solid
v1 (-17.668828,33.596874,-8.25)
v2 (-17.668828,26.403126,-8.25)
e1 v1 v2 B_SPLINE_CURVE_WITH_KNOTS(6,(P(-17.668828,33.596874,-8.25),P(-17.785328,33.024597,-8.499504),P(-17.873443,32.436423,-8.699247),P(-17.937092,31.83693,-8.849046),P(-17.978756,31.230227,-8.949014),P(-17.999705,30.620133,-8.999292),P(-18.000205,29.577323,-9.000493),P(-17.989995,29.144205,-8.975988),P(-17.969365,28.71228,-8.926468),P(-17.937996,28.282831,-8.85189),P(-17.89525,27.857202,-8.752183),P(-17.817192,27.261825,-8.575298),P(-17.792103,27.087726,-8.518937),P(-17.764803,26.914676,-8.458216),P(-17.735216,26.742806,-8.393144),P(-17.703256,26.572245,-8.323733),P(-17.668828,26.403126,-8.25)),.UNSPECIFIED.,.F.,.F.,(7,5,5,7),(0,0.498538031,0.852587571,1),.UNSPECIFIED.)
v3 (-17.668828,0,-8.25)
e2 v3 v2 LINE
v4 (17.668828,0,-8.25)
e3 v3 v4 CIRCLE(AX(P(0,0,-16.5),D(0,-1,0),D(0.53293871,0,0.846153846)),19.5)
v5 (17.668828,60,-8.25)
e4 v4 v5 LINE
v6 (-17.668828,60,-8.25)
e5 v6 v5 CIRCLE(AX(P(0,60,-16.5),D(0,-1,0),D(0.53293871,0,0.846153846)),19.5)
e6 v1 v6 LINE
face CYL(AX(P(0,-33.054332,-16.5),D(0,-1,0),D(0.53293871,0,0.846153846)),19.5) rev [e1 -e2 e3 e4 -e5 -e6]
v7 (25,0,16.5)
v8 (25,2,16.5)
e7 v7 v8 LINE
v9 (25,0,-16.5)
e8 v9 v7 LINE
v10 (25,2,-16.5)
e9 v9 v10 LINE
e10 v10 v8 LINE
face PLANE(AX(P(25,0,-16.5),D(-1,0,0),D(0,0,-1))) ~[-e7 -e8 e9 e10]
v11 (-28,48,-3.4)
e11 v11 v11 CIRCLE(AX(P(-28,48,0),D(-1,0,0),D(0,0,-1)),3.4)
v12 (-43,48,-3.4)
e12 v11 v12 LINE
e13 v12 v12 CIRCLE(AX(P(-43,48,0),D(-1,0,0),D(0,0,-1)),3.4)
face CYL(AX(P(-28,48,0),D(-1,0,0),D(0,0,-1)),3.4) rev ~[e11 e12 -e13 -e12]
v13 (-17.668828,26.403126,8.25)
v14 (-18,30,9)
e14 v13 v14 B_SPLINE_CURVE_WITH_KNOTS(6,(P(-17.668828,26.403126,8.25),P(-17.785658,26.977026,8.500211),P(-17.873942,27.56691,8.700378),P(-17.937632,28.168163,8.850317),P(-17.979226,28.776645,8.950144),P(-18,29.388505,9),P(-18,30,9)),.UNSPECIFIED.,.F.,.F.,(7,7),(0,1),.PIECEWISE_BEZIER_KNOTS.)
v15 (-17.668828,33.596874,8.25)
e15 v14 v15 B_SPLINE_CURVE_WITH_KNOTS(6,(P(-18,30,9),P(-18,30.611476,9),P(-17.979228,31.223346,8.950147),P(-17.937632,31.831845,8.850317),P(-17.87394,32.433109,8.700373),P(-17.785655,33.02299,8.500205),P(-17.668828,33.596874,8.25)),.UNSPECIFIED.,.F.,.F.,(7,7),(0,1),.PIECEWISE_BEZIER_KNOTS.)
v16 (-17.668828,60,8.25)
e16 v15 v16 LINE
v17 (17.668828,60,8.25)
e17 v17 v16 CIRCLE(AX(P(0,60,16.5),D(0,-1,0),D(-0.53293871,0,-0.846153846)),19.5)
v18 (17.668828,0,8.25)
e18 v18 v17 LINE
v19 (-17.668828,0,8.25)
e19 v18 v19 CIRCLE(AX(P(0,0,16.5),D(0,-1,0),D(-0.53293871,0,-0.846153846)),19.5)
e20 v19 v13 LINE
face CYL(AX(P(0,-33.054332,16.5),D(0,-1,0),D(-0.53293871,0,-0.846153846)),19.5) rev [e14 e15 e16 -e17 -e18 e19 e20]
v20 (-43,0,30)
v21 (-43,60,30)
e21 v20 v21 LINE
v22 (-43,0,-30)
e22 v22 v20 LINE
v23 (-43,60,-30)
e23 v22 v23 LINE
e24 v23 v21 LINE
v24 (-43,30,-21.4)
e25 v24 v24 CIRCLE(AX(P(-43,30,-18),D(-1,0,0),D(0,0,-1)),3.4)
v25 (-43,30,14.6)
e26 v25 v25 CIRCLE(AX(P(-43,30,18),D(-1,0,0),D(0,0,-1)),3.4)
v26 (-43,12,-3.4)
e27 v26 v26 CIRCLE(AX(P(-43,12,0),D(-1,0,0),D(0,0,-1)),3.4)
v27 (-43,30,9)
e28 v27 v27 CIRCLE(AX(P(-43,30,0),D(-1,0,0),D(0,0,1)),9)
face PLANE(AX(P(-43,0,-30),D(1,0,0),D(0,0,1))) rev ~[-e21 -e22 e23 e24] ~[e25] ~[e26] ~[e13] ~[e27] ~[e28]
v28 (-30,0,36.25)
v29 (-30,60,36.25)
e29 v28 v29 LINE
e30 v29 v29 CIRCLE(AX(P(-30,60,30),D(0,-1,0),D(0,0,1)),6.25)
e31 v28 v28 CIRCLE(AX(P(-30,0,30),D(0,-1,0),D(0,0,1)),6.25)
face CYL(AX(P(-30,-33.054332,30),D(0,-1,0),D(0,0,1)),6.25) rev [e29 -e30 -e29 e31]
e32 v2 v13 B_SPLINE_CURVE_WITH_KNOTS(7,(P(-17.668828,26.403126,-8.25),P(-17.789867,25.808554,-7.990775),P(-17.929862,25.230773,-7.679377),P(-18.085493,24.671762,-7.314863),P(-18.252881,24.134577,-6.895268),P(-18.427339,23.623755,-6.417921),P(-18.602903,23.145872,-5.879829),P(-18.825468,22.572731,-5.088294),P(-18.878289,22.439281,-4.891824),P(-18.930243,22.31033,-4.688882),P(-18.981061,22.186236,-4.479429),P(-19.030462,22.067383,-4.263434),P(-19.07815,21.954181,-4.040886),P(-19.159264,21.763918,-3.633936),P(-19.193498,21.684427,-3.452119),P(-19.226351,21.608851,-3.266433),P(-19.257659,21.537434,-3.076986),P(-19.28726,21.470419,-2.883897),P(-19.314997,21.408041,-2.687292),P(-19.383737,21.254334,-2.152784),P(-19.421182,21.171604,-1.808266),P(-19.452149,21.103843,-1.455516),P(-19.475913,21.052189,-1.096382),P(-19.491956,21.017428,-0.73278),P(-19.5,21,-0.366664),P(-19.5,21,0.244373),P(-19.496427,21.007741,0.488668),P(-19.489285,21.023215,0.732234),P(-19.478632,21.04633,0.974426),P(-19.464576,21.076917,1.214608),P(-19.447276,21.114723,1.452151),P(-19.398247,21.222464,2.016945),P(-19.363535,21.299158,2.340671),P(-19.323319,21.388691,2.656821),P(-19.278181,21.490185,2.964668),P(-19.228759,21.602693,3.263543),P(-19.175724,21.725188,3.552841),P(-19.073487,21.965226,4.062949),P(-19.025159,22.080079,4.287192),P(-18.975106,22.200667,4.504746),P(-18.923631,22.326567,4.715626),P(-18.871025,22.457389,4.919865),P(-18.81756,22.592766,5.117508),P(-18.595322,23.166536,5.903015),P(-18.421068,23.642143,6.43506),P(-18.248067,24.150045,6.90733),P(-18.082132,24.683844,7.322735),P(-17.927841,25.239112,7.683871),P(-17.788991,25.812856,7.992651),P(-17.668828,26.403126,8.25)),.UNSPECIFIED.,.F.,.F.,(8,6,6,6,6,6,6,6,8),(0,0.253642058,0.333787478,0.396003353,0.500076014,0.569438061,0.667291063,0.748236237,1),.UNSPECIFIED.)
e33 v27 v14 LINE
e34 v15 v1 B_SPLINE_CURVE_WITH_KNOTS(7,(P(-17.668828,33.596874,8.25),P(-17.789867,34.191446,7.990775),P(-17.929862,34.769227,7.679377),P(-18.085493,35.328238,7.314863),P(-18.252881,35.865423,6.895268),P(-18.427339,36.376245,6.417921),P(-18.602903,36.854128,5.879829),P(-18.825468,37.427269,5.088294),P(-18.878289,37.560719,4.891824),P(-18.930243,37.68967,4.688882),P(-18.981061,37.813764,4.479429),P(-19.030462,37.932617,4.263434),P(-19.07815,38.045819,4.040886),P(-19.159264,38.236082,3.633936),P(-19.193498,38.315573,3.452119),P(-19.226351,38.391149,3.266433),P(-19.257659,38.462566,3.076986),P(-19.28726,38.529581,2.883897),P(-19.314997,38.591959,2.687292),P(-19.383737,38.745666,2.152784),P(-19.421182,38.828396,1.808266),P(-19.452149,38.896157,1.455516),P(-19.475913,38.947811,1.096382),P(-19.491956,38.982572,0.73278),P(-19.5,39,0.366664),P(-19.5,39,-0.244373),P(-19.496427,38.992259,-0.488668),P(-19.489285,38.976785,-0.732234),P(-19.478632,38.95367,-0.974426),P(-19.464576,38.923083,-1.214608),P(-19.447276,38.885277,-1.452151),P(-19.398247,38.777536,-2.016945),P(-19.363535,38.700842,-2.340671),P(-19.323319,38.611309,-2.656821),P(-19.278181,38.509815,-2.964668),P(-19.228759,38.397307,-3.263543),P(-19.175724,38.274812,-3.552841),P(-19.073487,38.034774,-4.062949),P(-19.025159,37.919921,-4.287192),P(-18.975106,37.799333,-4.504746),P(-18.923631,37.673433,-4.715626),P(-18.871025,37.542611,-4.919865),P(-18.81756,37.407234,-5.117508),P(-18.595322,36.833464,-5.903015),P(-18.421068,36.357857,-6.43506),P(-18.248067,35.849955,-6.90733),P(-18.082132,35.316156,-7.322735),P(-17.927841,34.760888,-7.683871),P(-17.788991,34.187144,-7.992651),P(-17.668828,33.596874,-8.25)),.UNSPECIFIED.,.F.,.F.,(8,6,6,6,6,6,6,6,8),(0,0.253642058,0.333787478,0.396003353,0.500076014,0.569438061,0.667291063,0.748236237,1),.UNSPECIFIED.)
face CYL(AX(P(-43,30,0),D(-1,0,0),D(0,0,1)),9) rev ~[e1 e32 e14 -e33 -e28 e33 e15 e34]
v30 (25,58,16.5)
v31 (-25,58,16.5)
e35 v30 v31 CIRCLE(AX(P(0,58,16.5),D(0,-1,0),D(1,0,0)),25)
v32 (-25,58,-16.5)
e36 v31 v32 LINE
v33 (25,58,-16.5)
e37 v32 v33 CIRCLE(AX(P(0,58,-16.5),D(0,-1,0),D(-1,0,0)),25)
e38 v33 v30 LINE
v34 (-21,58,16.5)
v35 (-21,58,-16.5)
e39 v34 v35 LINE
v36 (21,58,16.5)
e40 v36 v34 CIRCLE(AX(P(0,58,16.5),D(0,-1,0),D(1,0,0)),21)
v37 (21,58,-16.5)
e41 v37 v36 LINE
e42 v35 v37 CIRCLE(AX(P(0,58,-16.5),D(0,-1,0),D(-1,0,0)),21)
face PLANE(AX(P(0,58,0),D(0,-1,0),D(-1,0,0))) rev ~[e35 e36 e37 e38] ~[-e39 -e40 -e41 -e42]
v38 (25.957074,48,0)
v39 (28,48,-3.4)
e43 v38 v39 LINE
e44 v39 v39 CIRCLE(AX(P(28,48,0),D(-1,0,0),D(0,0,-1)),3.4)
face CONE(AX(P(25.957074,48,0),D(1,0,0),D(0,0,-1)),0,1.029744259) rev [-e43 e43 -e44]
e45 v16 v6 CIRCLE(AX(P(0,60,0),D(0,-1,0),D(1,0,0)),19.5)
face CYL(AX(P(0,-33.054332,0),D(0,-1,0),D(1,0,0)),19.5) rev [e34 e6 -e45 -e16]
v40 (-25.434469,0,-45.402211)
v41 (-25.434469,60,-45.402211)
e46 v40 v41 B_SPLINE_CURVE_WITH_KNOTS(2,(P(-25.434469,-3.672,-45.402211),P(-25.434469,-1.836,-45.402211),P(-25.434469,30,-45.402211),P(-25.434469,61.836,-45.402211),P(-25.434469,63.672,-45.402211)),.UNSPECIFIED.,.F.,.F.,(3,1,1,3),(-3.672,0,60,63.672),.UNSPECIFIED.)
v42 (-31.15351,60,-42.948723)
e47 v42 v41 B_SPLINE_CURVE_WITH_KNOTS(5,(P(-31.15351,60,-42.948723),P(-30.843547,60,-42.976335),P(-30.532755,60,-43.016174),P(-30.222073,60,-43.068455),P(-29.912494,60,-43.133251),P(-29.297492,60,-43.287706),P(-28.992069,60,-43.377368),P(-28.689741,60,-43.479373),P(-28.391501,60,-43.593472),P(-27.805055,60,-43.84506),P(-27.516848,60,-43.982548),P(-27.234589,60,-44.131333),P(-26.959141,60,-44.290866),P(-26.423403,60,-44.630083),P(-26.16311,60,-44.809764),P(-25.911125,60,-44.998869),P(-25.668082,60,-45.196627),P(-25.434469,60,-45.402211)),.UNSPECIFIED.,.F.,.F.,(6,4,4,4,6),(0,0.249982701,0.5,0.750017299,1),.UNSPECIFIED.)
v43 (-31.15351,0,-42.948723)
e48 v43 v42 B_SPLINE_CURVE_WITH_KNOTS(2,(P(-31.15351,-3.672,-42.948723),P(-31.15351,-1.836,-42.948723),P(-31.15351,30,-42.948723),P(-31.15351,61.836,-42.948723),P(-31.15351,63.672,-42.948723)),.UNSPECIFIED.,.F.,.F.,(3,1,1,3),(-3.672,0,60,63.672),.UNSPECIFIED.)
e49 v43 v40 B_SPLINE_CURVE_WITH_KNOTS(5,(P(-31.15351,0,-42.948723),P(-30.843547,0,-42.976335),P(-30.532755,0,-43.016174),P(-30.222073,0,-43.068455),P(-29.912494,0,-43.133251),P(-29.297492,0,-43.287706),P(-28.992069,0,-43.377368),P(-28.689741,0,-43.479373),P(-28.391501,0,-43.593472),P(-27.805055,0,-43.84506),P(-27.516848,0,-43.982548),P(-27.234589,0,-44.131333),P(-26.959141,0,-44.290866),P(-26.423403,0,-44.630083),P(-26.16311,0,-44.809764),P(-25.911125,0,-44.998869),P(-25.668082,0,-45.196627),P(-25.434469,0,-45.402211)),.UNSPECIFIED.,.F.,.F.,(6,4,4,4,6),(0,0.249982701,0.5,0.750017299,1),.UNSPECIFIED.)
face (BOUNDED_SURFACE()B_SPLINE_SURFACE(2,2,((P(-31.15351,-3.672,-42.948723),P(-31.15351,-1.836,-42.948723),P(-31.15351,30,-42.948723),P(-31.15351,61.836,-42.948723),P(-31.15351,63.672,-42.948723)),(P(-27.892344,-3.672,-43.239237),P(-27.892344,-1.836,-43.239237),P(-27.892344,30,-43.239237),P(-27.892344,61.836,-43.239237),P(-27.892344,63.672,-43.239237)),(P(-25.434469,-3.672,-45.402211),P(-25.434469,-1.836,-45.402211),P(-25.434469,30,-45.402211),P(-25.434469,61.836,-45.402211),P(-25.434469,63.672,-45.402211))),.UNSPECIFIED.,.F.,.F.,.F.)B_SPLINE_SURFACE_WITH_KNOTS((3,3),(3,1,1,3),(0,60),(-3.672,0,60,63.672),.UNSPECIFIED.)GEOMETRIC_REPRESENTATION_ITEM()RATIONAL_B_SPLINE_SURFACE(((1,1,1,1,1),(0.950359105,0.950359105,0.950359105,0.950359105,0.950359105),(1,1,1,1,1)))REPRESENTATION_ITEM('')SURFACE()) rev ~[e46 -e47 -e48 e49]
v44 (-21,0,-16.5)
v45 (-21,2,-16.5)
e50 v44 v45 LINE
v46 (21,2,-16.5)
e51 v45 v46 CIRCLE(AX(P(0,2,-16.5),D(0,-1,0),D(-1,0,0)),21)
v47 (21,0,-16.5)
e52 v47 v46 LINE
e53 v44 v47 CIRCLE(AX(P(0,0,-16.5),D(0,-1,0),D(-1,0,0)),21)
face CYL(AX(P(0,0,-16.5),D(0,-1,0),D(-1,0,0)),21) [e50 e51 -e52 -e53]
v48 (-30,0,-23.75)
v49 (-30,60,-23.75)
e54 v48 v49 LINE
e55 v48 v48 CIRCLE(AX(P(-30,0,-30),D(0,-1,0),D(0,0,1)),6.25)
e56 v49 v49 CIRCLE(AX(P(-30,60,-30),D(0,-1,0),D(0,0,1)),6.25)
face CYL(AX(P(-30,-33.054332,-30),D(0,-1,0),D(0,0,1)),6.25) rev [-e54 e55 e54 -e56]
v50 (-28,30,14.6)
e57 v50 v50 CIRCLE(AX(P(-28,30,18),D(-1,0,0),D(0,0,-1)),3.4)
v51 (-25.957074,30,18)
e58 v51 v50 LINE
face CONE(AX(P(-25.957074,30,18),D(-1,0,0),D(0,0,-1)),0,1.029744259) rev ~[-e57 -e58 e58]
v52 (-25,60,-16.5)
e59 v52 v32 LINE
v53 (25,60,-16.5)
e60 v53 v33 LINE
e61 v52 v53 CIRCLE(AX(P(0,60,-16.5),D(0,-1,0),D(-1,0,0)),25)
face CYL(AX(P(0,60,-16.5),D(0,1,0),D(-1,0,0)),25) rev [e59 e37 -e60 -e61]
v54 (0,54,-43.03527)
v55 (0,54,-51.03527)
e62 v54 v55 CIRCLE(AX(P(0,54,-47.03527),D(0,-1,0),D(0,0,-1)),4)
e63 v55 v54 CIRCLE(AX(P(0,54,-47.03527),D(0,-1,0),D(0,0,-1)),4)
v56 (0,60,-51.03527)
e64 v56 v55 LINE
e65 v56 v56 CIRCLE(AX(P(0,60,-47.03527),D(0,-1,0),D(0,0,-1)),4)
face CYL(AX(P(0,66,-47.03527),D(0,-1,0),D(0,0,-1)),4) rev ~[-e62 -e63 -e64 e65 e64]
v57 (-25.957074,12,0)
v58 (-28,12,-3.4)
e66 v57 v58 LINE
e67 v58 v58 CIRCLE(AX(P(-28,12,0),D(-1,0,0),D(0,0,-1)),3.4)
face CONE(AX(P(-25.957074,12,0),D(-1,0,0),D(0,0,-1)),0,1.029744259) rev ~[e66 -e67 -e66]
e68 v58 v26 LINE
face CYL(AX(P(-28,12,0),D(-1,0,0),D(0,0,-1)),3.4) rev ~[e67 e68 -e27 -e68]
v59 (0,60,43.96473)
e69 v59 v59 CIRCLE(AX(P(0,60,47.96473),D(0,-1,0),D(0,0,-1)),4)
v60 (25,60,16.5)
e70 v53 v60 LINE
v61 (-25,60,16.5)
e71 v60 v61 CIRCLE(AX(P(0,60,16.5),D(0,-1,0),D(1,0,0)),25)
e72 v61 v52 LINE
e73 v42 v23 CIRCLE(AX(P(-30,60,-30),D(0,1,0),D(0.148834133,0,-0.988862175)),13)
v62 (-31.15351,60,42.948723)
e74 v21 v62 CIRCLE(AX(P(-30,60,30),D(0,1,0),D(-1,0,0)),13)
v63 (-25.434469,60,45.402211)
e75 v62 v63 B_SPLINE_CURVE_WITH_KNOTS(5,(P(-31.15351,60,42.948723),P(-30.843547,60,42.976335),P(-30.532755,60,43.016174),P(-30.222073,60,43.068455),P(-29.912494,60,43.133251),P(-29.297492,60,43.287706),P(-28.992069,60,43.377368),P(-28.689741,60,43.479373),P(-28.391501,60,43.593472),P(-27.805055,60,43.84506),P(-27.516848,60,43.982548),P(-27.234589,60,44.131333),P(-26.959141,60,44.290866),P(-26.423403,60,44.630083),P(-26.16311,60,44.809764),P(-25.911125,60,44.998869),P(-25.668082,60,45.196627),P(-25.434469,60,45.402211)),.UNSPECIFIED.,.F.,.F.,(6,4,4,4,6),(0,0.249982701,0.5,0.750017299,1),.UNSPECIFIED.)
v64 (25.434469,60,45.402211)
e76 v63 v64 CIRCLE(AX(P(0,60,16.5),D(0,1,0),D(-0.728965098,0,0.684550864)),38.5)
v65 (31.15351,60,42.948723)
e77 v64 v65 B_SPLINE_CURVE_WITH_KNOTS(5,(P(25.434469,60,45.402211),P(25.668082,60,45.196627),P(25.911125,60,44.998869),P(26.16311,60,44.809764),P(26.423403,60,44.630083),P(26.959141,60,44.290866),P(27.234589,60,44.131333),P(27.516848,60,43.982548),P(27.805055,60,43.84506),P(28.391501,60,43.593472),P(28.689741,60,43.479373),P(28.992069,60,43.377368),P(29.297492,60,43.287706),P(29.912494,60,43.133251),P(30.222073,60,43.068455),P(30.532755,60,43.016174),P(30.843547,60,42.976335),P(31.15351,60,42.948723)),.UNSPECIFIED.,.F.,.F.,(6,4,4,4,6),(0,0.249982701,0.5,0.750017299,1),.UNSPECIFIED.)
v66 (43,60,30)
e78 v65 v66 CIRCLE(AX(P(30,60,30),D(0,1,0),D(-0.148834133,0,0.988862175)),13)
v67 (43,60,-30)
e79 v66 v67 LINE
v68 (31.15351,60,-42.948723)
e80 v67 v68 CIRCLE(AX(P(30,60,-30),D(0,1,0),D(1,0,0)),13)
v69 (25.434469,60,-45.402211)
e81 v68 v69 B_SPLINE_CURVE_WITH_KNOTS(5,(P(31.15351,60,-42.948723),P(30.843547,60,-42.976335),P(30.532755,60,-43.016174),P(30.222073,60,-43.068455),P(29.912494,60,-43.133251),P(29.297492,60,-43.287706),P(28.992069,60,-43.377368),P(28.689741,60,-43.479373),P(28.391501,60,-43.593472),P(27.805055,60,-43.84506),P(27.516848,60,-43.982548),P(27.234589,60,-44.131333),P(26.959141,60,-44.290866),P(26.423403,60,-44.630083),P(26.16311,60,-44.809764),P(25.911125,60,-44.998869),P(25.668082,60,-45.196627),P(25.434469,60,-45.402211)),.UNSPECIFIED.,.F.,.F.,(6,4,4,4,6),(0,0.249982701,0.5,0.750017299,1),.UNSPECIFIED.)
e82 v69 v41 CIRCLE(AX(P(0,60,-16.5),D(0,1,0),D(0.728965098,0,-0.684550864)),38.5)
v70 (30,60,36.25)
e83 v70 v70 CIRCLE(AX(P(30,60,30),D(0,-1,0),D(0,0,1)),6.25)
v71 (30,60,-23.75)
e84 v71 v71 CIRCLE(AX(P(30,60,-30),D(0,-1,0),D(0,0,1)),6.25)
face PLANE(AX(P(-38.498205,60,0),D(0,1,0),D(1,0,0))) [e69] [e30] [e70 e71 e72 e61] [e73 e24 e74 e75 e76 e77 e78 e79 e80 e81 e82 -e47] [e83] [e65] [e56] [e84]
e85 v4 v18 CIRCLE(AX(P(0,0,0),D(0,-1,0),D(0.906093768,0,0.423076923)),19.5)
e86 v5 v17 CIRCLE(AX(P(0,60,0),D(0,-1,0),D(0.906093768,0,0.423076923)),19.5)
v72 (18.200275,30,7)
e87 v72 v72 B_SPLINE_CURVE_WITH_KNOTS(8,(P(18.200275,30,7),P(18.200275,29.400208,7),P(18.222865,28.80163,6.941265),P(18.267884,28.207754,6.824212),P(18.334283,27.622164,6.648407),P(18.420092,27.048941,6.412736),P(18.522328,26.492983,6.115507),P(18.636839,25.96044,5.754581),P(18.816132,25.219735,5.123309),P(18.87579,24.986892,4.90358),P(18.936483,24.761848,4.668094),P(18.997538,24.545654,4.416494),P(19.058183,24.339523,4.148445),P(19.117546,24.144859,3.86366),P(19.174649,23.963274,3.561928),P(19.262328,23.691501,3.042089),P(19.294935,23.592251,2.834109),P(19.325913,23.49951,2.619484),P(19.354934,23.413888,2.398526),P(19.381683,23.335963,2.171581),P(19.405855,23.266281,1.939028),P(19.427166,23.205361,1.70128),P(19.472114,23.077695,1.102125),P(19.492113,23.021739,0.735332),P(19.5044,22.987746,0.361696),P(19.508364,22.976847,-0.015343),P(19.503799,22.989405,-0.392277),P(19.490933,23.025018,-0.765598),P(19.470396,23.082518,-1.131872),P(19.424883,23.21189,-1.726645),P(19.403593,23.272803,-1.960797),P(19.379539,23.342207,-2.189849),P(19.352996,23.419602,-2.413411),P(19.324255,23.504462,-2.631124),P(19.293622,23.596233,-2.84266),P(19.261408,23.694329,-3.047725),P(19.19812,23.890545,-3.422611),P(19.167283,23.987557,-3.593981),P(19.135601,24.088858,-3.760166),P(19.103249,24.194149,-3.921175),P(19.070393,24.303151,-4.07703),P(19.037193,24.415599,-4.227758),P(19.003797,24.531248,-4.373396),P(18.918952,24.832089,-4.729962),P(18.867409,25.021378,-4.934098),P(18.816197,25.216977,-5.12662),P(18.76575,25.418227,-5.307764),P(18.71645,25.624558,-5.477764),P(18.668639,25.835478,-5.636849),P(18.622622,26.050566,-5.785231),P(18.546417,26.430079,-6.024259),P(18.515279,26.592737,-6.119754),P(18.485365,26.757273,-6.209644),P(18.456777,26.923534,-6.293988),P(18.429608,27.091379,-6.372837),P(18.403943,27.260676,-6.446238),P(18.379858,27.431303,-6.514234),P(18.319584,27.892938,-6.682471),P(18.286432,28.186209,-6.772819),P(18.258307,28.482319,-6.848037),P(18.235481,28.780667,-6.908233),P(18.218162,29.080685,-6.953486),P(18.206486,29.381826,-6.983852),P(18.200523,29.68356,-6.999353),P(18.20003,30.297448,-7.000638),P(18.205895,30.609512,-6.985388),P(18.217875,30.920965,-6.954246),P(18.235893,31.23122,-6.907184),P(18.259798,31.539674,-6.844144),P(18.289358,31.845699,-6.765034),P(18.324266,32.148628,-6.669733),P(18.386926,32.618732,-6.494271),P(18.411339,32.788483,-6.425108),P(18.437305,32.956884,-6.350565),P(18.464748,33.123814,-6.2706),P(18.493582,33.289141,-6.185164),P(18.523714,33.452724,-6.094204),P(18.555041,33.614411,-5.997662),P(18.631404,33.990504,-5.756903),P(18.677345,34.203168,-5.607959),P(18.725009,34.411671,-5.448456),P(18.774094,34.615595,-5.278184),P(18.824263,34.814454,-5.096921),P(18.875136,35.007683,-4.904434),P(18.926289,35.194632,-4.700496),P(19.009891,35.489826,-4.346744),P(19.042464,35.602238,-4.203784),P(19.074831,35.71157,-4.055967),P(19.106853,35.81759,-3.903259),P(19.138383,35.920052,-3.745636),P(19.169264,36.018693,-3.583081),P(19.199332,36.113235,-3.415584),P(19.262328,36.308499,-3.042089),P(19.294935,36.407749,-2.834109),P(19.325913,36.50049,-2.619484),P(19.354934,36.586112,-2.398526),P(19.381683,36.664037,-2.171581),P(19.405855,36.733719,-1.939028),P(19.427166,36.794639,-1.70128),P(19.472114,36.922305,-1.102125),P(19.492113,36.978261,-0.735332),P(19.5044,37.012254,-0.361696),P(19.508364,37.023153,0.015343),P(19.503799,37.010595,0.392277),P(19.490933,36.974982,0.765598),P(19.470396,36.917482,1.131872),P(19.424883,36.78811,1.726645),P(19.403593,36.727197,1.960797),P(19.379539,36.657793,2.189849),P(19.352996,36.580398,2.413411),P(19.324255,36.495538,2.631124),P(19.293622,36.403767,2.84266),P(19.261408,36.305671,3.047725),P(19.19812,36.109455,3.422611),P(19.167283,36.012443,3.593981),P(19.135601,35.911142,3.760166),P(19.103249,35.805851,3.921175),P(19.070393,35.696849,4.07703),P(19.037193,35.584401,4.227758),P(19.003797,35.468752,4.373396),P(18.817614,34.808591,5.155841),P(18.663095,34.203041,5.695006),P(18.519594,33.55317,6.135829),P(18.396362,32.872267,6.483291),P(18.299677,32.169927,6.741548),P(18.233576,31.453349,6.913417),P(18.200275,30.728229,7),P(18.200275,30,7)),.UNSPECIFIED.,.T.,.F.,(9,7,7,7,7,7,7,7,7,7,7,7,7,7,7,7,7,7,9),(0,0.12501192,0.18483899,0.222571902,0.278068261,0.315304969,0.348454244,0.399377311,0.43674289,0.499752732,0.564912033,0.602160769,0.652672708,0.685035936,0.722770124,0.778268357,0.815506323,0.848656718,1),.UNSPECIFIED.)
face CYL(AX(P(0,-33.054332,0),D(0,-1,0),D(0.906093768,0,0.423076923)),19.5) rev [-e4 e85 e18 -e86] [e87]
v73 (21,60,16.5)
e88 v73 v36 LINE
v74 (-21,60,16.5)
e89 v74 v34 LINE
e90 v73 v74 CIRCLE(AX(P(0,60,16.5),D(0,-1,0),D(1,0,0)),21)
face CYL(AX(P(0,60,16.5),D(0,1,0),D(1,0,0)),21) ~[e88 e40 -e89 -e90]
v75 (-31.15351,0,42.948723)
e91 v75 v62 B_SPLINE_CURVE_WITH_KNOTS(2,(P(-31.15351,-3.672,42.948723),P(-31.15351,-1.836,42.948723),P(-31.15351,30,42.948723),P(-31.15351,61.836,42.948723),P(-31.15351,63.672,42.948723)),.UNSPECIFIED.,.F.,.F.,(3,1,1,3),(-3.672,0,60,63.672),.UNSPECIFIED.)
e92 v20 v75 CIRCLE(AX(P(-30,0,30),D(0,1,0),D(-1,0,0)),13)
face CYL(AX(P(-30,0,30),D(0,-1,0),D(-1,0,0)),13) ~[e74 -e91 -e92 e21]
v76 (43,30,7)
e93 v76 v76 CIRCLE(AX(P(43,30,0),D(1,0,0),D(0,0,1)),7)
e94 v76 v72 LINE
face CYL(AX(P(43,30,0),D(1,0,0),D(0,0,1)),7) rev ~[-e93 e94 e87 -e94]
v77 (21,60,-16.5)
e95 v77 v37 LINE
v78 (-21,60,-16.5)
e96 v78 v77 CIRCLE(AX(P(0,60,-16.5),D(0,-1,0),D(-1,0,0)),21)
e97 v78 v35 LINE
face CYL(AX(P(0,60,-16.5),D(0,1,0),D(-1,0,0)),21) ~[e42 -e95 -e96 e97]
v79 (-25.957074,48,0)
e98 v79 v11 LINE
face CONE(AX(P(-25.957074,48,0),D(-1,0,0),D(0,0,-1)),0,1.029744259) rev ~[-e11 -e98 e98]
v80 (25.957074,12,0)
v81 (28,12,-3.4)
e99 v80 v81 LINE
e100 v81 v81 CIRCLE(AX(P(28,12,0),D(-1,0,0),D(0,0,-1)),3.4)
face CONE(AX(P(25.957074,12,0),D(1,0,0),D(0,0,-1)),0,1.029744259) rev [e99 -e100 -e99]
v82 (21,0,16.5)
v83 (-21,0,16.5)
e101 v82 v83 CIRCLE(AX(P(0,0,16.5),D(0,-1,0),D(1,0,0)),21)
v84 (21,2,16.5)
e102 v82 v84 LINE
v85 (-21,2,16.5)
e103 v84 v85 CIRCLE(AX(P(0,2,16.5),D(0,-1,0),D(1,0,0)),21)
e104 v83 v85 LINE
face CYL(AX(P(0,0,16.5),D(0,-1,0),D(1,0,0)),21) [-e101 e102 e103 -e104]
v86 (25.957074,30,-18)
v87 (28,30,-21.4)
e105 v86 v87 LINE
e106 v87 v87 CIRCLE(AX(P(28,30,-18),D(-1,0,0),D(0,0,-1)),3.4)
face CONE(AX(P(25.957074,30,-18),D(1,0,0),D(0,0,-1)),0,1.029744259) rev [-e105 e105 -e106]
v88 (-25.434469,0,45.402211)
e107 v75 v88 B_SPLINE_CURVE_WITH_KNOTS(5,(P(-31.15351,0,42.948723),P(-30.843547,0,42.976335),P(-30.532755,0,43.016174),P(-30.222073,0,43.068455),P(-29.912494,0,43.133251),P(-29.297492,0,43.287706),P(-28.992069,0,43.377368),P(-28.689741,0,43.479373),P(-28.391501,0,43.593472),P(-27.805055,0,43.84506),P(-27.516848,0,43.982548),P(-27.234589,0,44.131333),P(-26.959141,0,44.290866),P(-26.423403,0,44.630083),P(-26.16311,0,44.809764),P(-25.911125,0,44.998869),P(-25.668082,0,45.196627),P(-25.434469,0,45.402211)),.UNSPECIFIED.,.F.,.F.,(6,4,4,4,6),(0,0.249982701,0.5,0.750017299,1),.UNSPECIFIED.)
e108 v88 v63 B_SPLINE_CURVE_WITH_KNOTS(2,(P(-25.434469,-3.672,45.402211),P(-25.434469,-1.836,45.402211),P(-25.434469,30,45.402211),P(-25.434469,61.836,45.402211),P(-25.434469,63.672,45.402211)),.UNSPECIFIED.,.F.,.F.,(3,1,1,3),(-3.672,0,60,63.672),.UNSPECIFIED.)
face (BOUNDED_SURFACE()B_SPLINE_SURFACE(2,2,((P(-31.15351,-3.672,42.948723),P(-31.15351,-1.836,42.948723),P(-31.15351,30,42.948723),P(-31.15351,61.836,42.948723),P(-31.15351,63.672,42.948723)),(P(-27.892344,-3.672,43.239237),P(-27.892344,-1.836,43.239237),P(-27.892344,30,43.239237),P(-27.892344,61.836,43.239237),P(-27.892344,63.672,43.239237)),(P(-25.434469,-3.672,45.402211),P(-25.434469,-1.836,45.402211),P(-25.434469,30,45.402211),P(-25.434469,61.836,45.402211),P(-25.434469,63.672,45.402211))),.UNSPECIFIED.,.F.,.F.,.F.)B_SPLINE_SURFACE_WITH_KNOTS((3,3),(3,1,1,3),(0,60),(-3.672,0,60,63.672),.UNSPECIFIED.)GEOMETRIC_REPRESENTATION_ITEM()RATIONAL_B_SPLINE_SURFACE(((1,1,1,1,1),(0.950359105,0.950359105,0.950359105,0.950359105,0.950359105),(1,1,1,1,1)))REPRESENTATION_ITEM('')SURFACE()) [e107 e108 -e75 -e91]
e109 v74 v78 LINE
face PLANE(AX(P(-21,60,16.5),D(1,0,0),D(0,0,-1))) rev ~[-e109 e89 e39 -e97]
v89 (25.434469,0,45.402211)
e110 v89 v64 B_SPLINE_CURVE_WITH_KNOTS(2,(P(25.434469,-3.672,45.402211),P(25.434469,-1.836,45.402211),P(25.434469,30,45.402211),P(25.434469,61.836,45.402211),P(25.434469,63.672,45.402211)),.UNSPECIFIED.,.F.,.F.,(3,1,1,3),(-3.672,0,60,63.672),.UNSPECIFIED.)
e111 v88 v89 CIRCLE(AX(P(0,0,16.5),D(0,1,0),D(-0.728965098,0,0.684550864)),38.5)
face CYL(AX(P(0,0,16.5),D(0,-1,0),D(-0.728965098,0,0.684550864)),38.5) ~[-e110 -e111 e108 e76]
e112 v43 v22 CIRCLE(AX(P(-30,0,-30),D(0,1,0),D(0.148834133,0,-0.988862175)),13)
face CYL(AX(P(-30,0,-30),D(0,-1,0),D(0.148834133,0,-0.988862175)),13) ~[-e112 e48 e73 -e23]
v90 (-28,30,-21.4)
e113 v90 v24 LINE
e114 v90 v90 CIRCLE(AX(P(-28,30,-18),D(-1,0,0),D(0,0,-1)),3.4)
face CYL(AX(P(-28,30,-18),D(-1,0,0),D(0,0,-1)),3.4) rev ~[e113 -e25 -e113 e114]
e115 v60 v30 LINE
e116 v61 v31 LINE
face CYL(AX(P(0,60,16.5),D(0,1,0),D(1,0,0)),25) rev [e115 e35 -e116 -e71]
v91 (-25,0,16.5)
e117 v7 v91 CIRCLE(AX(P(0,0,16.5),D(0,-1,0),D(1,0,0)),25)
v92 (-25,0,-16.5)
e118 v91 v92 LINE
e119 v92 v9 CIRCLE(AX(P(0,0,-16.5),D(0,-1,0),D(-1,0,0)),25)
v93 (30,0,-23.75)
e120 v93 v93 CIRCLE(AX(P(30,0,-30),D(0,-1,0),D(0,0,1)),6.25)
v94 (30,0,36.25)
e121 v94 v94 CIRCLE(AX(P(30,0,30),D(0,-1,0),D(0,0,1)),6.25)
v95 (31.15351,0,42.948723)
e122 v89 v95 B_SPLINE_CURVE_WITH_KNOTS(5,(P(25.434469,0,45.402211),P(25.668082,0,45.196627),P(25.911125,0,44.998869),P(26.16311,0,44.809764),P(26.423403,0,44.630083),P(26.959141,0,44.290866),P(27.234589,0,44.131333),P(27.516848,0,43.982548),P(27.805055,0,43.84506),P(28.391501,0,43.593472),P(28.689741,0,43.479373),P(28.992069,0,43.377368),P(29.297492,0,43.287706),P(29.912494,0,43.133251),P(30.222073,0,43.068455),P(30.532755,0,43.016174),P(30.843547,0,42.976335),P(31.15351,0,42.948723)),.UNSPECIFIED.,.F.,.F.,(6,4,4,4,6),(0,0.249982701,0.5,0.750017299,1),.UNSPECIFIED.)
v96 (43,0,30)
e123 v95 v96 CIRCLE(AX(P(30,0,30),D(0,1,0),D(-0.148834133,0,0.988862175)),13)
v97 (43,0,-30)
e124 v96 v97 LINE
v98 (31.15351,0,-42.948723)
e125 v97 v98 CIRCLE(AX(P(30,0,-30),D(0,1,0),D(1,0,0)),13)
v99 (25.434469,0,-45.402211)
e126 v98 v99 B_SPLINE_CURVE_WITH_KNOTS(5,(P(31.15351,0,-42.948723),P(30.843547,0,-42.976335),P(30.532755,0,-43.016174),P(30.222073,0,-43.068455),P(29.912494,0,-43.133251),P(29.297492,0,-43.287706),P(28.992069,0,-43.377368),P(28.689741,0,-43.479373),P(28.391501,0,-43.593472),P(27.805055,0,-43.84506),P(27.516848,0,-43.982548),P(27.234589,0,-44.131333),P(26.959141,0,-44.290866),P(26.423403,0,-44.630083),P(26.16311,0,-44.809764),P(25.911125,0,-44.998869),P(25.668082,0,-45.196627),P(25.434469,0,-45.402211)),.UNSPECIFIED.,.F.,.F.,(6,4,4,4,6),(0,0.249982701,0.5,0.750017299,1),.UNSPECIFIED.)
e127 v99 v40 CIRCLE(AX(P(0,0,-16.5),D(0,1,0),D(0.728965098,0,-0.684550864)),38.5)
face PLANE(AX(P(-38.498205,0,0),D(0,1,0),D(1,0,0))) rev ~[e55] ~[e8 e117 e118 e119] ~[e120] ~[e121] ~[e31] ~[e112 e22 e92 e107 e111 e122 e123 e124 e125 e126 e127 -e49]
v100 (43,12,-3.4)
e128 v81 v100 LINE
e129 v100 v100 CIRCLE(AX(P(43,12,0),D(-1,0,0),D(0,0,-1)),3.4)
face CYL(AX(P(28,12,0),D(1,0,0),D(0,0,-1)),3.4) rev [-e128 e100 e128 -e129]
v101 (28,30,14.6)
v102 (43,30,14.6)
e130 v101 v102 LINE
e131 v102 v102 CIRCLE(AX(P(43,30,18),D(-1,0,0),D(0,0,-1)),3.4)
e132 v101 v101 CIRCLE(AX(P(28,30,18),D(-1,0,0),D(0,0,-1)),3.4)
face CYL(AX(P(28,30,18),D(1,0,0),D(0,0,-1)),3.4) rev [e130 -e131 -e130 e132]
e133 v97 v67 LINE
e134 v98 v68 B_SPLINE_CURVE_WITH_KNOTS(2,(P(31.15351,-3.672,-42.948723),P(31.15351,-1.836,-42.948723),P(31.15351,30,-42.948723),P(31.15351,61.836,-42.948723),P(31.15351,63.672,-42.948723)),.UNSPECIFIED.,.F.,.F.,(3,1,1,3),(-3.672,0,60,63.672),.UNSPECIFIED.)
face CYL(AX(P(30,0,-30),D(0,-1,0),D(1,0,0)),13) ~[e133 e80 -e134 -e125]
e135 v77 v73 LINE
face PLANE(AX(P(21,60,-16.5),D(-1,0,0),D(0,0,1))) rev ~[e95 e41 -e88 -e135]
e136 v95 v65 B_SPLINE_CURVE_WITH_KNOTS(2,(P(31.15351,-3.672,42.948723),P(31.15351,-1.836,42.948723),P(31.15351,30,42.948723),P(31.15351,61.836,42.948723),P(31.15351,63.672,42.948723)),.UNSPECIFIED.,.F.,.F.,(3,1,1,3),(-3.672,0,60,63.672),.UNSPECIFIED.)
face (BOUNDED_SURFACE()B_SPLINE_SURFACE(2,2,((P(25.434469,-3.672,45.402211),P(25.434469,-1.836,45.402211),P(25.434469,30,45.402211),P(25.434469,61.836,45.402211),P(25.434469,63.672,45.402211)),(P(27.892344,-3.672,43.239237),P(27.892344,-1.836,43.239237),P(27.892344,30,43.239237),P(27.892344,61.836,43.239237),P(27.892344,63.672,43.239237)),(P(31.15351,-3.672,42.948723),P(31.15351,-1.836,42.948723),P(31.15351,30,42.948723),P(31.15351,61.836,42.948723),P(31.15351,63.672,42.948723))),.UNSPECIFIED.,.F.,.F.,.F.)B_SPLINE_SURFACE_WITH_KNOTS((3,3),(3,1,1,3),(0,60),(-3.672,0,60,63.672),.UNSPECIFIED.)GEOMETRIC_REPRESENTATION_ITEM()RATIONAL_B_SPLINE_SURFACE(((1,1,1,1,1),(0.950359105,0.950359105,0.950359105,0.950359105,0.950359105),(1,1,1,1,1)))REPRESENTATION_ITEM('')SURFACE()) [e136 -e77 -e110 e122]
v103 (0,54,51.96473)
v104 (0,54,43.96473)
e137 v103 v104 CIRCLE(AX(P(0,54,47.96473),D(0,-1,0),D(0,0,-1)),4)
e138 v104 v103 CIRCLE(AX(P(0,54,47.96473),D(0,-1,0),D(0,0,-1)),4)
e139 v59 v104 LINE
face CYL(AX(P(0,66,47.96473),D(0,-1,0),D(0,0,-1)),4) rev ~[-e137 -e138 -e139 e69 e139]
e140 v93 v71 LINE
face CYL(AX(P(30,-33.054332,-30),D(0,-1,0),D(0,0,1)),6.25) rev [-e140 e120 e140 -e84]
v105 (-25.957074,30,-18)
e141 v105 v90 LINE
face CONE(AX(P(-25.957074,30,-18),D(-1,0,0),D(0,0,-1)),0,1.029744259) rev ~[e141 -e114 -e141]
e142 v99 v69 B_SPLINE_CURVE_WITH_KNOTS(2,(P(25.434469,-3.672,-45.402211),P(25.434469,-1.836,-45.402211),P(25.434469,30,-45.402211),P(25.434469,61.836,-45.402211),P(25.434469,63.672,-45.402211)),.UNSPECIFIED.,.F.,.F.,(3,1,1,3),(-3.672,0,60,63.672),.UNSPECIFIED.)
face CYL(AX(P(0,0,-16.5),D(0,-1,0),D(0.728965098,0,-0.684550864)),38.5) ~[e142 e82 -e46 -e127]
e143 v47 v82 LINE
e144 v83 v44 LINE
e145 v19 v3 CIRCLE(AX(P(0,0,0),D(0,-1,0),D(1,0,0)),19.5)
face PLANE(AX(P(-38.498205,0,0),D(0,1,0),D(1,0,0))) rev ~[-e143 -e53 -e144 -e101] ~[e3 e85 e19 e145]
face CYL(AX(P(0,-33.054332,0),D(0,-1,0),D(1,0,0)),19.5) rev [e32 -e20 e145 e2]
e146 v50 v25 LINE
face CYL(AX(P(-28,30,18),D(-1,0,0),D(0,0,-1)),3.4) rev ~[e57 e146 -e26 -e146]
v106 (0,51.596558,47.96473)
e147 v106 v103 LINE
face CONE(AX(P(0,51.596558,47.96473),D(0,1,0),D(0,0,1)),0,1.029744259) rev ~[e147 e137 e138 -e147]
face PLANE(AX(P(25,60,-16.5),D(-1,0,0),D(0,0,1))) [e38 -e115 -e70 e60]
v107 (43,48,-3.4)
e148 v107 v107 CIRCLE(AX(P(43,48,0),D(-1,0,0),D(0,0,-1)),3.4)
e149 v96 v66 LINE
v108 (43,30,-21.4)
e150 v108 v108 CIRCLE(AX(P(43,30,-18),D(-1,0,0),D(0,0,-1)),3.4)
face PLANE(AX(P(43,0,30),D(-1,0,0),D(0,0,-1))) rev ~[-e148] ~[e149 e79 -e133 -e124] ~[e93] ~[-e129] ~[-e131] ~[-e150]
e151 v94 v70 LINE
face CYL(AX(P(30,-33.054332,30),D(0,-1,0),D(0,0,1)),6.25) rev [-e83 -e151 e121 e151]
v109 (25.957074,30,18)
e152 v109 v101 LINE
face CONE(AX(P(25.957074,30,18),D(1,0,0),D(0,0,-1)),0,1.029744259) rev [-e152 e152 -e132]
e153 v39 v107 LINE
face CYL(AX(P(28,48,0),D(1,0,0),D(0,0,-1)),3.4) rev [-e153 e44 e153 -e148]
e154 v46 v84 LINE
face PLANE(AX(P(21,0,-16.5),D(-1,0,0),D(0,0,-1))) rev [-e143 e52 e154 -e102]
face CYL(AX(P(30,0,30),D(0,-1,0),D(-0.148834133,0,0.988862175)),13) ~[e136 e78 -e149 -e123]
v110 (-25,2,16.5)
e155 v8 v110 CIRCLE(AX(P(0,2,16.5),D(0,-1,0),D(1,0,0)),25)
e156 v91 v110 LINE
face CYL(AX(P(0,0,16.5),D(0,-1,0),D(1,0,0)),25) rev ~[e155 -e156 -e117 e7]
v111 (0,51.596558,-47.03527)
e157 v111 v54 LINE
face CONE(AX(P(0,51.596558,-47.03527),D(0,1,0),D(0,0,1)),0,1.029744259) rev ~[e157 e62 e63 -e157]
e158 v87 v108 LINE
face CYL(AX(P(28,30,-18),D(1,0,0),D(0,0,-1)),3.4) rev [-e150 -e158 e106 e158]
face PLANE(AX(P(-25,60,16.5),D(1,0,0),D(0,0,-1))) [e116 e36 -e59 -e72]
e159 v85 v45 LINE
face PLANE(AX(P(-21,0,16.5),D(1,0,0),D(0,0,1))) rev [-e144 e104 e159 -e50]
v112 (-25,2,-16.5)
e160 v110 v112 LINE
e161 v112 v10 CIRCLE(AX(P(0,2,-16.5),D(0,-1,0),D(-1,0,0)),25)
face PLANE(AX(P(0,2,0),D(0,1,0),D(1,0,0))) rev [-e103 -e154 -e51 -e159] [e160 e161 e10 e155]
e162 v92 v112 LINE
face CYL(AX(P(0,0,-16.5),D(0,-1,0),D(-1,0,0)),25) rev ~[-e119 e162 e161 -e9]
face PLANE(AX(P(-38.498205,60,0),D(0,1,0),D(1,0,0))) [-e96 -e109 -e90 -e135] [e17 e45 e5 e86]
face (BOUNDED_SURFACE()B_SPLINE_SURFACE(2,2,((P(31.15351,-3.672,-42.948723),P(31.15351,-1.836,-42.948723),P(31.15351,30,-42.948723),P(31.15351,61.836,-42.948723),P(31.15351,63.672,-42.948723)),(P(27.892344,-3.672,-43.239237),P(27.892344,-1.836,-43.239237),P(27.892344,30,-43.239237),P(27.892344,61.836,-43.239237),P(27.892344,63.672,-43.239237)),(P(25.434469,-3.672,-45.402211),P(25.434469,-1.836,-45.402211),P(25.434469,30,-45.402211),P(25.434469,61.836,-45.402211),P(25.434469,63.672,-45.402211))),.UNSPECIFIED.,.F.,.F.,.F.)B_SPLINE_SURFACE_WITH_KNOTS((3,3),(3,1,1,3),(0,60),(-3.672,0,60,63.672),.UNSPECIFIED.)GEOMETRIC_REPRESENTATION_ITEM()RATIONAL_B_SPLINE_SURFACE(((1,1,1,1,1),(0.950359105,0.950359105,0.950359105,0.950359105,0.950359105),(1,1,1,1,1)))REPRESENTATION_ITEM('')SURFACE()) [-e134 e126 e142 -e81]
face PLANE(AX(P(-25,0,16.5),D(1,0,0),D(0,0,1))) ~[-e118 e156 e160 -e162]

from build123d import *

# Parameters (mm, degrees)
EXTRUDE_1_DEPTH                 = 60
FILLET_1_R                      = 10
CUT_EXTRUDE_1_DEPTH             = 93.054331955
CUT_EXTRUDE_1_DEPTH_BACK        = 93.054331955
SKETCH_2_R                      = 6.25
CUT_EXTRUDE_2_DEPTH             = 93.054331955
CUT_EXTRUDE_2_DEPTH_BACK        = 93.054331955
SKETCH_3_R                      = 19.5
CUT_EXTRUDE_3_DEPTH             = 2
MM_1_D                          = 8
MM_1_DEPTH                      = 6
MM_1_TIP                        = 2.403442476
CUT_EXTRUDE_4_REACH             = 120.41
CUT_EXTRUDE_4_END_RADIUS        = 19.5
SKETCH_9_R                      = 7
CUT_EXTRUDE_4_DIRECTION_2_DEPTH = 119.410303775
CUT_EXTRUDE_5_REACH             = 120.41
SKETCH_10_R                     = 9
HOLE_WIZARD_M8_2_AT_2_COUNT     = 2
HOLE_WIZARD_M8_2_AT_2_PITCH     = 25.455844123
HOLE_WIZARD_M8_2_AT_3_COUNT     = 2
HOLE_WIZARD_M8_2_AT_3_PITCH     = 36
HOLE_WIZARD_M8_2_AT_4_COUNT     = 2
HOLE_WIZARD_M8_2_AT_4_PITCH     = 25.455844123


with BuildPart() as part:
    # 草图1 → 凸台-拉伸1 (new body)
    with BuildSketch(Plane(origin=(0, 0, 0), x_dir=(1, 0, 0), z_dir=(0, 1, 0))):
        with BuildLine():
            ThreePointArc((-38.5, 16.5), (-35.796358171, 30.672887556), (-28.065156277, 42.855208274))
            ThreePointArc((-28.065156277, 42.855208274), (-38.480773302, 39.852739934), (-43, 30))
            Line((-43, 30), (-43, -30))
            ThreePointArc((-43, -30), (-38.480773302, -39.852739934), (-28.065156277, -42.855208274))
            ThreePointArc((-28.065156277, -42.855208274), (-35.796358171, -30.672887556), (-38.5, -16.5))
            Line((-38.5, -16.5), (-38.5, 16.5))
        make_face()
        with BuildLine():
            ThreePointArc((-17, 30), (-20.147260066, 38.480773302), (-28.065156277, 42.855208274))
            ThreePointArc((-28.065156277, 42.855208274), (-35.796358171, 30.672887556), (-38.5, 16.5))
            Line((-38.5, 16.5), (-38.5, -16.5))
            ThreePointArc((-38.5, -16.5), (-35.796358171, -30.672887556), (-28.065156277, -42.855208274))
            ThreePointArc((-28.065156277, -42.855208274), (-20.147260066, -38.480773302), (-17, -30))
            Line((-17, -30), (-17, 30))
        make_face()
        with BuildLine():
            ThreePointArc((17, 30), (20.147260066, 38.480773302), (28.065156277, 42.855208274))
            ThreePointArc((28.065156277, 42.855208274), (0, 55), (-28.065156277, 42.855208274))
            ThreePointArc((-28.065156277, 42.855208274), (-20.147260066, 38.480773302), (-17, 30))
            Line((-17, 30), (-17, -30))
            ThreePointArc((-17, -30), (-20.147260066, -38.480773302), (-28.065156277, -42.855208274))
            ThreePointArc((-28.065156277, -42.855208274), (0, -55), (28.065156277, -42.855208274))
            ThreePointArc((28.065156277, -42.855208274), (20.147260066, -38.480773302), (17, -30))
            Line((17, -30), (17, 30))
        make_face()
        with BuildLine():
            Line((38.5, -16.5), (38.5, 16.5))
            ThreePointArc((38.5, 16.5), (35.796358171, 30.672887556), (28.065156277, 42.855208274))
            ThreePointArc((28.065156277, 42.855208274), (20.147260066, 38.480773302), (17, 30))
            Line((17, 30), (17, -30))
            ThreePointArc((17, -30), (20.147260066, -38.480773302), (28.065156277, -42.855208274))
            ThreePointArc((28.065156277, -42.855208274), (35.796358171, -30.672887556), (38.5, -16.5))
        make_face()
        with BuildLine():
            ThreePointArc((28.065156277, 42.855208274), (35.796358171, 30.672887556), (38.5, 16.5))
            Line((38.5, 16.5), (38.5, -16.5))
            ThreePointArc((38.5, -16.5), (35.796358171, -30.672887556), (28.065156277, -42.855208274))
            ThreePointArc((28.065156277, -42.855208274), (38.480773302, -39.852739934), (43, -30))
            Line((43, -30), (43, 30))
            ThreePointArc((43, 30), (38.480773302, 39.852739934), (28.065156277, 42.855208274))
        make_face()
    extrude(amount=EXTRUDE_1_DEPTH)

    # 圆角1
    fillet_1_edges = [part.edges().sort_by_distance(p)[0] for p in [
        (-28.065156277, 30, 42.855208274),
        (-28.065156277, 30, -42.855208274),
        (28.065156277, 30, -42.855208274),
        (28.065156277, 30, 42.855208274),
    ]]
    fillet(fillet_1_edges, radius=FILLET_1_R)

    # 草图2 → 切除-拉伸1 (cut, two sides: drawn at the far end of the back side and taken through both)
    with BuildSketch(Plane(origin=(0, 60, 0), x_dir=(1, 0, 0), z_dir=(0, 1, 0)).offset(-CUT_EXTRUDE_1_DEPTH_BACK)):
        with Locations(Location((-30, 30, 0), (0, 0, 270))):
            Circle(SKETCH_2_R)
        with Locations(Location((30, 30, 0), (0, 0, 270))):
            Circle(SKETCH_2_R)
        with Locations(Location((30, -30, 0), (0, 0, 270))):
            Circle(SKETCH_2_R)
        with Locations(Location((-30, -30, 0), (0, 0, 270))):
            Circle(SKETCH_2_R)
    extrude(amount=CUT_EXTRUDE_1_DEPTH + CUT_EXTRUDE_1_DEPTH_BACK, mode=Mode.SUBTRACT)

    # 草图3 → 切除-拉伸2 (cut, two sides: drawn at the far end of the back side and taken through both)
    with BuildSketch(Plane(origin=(0, 60, 0), x_dir=(1, 0, 0), z_dir=(0, 1, 0)).offset(-CUT_EXTRUDE_2_DEPTH_BACK)):
        with Locations((0, 16.5)):
            Circle(SKETCH_3_R)
        with Locations((0, -16.5)):
            Circle(SKETCH_3_R)
        Circle(SKETCH_3_R)
    extrude(amount=CUT_EXTRUDE_2_DEPTH + CUT_EXTRUDE_2_DEPTH_BACK, mode=Mode.SUBTRACT)

    # 草图4 → 切除-拉伸3 (cut)
    with BuildSketch(Plane(origin=(0, 60, 0), x_dir=(1, 0, 0), z_dir=(0, 1, 0))):
        with BuildLine():
            Line((25, 16.5), (25, -16.5))
            ThreePointArc((25, -16.5), (0, -41.5), (-25, -16.5))
            Line((-25, -16.5), (-25, 16.5))
            ThreePointArc((-25, 16.5), (0, 41.5), (25, 16.5))
        make_face()
        with BuildLine():
            Line((21, 16.5), (21, -16.5))
            ThreePointArc((21, -16.5), (0, -37.5), (-21, -16.5))
            Line((-21, -16.5), (-21, 16.5))
            ThreePointArc((-21, 16.5), (0, 37.5), (21, 16.5))
        make_face(mode=Mode.SUBTRACT)
    cut_extrude_3 = extrude(amount=-CUT_EXTRUDE_3_DEPTH, mode=Mode.SUBTRACT)

    # 镜向1: 切除-拉伸3 across plane
    add(cut_extrude_3.mirror(Plane.ZX.offset(30)), mode=Mode.SUBTRACT)

    # 大小mm 暗销孔1
    with Locations(Plane(origin=(0, 60, -47.035270406), x_dir=(0, 0, 1), z_dir=(0, 1, 0))):
        with Locations((0, 0), (95, 0)):
            Hole(MM_1_D / 2, depth=MM_1_DEPTH)
            with Locations((0, 0, -(MM_1_DEPTH + MM_1_TIP / 2))):  # 118° drill point
                Cone(0, MM_1_D / 2, MM_1_TIP, mode=Mode.SUBTRACT)

    # 切除-拉伸4: up to this cylinder (the profile starts outside it)
    cut_extrude_4_end = Plane(origin=(0, 30, 0), z_dir=(0, 1, 0)) * Cylinder(CUT_EXTRUDE_4_END_RADIUS, 280.82, mode=Mode.PRIVATE)
    # 草图9 → 切除-拉伸4 (cut, up to the surface)
    with BuildSketch(Plane(origin=(43, 0, 0), x_dir=(0, 0, -1), z_dir=(1, 0, 0)), mode=Mode.PRIVATE) as cut_extrude_4_sk1:
        with Locations(Location((0, 30, 0), (0, 0, 180))):
            Circle(SKETCH_9_R)
    cut_extrude_4_tool1 = extrude(cut_extrude_4_sk1.sketch, amount=-CUT_EXTRUDE_4_REACH, mode=Mode.PRIVATE) - cut_extrude_4_end
    add(cut_extrude_4_tool1.solids().sort_by_distance((43, 30, 0))[0], mode=Mode.SUBTRACT)

    # 草图9 → 切除-拉伸4 direction 2 (cut)
    with BuildSketch(Plane(origin=(43, 0, 0), x_dir=(0, 0, -1), z_dir=(1, 0, 0))):
        with Locations(Location((0, 30, 0), (0, 0, 180))):
            Circle(SKETCH_9_R)
    extrude(amount=CUT_EXTRUDE_4_DIRECTION_2_DEPTH, mode=Mode.SUBTRACT)

    # 草图10 → 切除-拉伸5 (cut, up to next)
    with BuildSketch(Plane.ZY.offset(43), mode=Mode.PRIVATE) as cut_extrude_5_sk1:
        with Locations((0, 30)):
            Circle(SKETCH_10_R)
    cut_extrude_5_tool1 = extrude(cut_extrude_5_sk1.sketch, amount=-CUT_EXTRUDE_5_REACH, mode=Mode.PRIVATE) & part.part
    add(cut_extrude_5_tool1.solids().sort_by_distance((-43, 30, 0))[0], mode=Mode.SUBTRACT)

    # 草图13 → M8 螺纹孔2 (revolve, cut)
    with BuildSketch(Plane(origin=(43, 48, 0), x_dir=(0, 0, -1), z_dir=(0, 1, 0))):
        Polygon((0, 0), (0, 17.042926105), (3.4, 15), (3.4, 0), align=None)
    hole_wizard_m8_2 = revolve(axis=Axis((49.35, 48, 0), (-1, 0, 0)), mode=Mode.SUBTRACT)

    # M8 螺纹孔2 at 2: M8 螺纹孔2 ×2
    with Locations(*[Vector(0, -0.7071067811865476, -0.7071067811865476) * (i * HOLE_WIZARD_M8_2_AT_2_PITCH) for i in range(1, HOLE_WIZARD_M8_2_AT_2_COUNT)]):
        add(hole_wizard_m8_2, mode=Mode.SUBTRACT)

    # M8 螺纹孔2 at 3: M8 螺纹孔2 ×2
    with Locations(*[(0, -i * HOLE_WIZARD_M8_2_AT_3_PITCH, 0) for i in range(1, HOLE_WIZARD_M8_2_AT_3_COUNT)]):
        add(hole_wizard_m8_2, mode=Mode.SUBTRACT)

    # M8 螺纹孔2 at 4: M8 螺纹孔2 ×2
    with Locations(*[Vector(0, -0.7071067811865475, 0.7071067811865476) * (i * HOLE_WIZARD_M8_2_AT_4_PITCH) for i in range(1, HOLE_WIZARD_M8_2_AT_4_COUNT)]):
        add(hole_wizard_m8_2, mode=Mode.SUBTRACT)

    # 镜向2: M8 螺纹孔2 across plane
    add(hole_wizard_m8_2.mirror(Plane(origin=(0, 0, 0), x_dir=(0, 0, 1), z_dir=(1, 0, 0))), mode=Mode.SUBTRACT)

    # 镜向2 copy 1 sketch → 镜向2 copy 1 (revolve, cut)
    with BuildSketch(Plane(origin=(-43, 30, -18), x_dir=(0, 0, -1), z_dir=(0, 1, 0))):
        Polygon((0, 0), (0, -17.042926105), (3.4, -15), (3.4, 0), align=None)
    revolve(axis=Axis((-49.35, 30, -18), (-1, 0, 0)), mode=Mode.SUBTRACT)

    # 镜向2 copy 2 sketch → 镜向2 copy 2 (revolve, cut)
    with BuildSketch(Plane(origin=(-43, 12, 0), x_dir=(0, 0, -1), z_dir=(0, 1, 0))):
        Polygon((0, 0), (0, -17.042926105), (3.4, -15), (3.4, 0), align=None)
    revolve(axis=Axis((-49.35, 12, 0), (-1, 0, 0)), mode=Mode.SUBTRACT)

    # 镜向2 copy 3 sketch → 镜向2 copy 3 (revolve, cut)
    with BuildSketch(Plane(origin=(-43, 30, 18), x_dir=(0, 0, -1), z_dir=(0, 1, 0))):
        Polygon((0, 0), (0, -17.042926105), (3.4, -15), (3.4, 0), align=None)
    revolve(axis=Axis((-49.35, 30, 18), (-1, 0, 0)), mode=Mode.SUBTRACT)


solid = part.part
